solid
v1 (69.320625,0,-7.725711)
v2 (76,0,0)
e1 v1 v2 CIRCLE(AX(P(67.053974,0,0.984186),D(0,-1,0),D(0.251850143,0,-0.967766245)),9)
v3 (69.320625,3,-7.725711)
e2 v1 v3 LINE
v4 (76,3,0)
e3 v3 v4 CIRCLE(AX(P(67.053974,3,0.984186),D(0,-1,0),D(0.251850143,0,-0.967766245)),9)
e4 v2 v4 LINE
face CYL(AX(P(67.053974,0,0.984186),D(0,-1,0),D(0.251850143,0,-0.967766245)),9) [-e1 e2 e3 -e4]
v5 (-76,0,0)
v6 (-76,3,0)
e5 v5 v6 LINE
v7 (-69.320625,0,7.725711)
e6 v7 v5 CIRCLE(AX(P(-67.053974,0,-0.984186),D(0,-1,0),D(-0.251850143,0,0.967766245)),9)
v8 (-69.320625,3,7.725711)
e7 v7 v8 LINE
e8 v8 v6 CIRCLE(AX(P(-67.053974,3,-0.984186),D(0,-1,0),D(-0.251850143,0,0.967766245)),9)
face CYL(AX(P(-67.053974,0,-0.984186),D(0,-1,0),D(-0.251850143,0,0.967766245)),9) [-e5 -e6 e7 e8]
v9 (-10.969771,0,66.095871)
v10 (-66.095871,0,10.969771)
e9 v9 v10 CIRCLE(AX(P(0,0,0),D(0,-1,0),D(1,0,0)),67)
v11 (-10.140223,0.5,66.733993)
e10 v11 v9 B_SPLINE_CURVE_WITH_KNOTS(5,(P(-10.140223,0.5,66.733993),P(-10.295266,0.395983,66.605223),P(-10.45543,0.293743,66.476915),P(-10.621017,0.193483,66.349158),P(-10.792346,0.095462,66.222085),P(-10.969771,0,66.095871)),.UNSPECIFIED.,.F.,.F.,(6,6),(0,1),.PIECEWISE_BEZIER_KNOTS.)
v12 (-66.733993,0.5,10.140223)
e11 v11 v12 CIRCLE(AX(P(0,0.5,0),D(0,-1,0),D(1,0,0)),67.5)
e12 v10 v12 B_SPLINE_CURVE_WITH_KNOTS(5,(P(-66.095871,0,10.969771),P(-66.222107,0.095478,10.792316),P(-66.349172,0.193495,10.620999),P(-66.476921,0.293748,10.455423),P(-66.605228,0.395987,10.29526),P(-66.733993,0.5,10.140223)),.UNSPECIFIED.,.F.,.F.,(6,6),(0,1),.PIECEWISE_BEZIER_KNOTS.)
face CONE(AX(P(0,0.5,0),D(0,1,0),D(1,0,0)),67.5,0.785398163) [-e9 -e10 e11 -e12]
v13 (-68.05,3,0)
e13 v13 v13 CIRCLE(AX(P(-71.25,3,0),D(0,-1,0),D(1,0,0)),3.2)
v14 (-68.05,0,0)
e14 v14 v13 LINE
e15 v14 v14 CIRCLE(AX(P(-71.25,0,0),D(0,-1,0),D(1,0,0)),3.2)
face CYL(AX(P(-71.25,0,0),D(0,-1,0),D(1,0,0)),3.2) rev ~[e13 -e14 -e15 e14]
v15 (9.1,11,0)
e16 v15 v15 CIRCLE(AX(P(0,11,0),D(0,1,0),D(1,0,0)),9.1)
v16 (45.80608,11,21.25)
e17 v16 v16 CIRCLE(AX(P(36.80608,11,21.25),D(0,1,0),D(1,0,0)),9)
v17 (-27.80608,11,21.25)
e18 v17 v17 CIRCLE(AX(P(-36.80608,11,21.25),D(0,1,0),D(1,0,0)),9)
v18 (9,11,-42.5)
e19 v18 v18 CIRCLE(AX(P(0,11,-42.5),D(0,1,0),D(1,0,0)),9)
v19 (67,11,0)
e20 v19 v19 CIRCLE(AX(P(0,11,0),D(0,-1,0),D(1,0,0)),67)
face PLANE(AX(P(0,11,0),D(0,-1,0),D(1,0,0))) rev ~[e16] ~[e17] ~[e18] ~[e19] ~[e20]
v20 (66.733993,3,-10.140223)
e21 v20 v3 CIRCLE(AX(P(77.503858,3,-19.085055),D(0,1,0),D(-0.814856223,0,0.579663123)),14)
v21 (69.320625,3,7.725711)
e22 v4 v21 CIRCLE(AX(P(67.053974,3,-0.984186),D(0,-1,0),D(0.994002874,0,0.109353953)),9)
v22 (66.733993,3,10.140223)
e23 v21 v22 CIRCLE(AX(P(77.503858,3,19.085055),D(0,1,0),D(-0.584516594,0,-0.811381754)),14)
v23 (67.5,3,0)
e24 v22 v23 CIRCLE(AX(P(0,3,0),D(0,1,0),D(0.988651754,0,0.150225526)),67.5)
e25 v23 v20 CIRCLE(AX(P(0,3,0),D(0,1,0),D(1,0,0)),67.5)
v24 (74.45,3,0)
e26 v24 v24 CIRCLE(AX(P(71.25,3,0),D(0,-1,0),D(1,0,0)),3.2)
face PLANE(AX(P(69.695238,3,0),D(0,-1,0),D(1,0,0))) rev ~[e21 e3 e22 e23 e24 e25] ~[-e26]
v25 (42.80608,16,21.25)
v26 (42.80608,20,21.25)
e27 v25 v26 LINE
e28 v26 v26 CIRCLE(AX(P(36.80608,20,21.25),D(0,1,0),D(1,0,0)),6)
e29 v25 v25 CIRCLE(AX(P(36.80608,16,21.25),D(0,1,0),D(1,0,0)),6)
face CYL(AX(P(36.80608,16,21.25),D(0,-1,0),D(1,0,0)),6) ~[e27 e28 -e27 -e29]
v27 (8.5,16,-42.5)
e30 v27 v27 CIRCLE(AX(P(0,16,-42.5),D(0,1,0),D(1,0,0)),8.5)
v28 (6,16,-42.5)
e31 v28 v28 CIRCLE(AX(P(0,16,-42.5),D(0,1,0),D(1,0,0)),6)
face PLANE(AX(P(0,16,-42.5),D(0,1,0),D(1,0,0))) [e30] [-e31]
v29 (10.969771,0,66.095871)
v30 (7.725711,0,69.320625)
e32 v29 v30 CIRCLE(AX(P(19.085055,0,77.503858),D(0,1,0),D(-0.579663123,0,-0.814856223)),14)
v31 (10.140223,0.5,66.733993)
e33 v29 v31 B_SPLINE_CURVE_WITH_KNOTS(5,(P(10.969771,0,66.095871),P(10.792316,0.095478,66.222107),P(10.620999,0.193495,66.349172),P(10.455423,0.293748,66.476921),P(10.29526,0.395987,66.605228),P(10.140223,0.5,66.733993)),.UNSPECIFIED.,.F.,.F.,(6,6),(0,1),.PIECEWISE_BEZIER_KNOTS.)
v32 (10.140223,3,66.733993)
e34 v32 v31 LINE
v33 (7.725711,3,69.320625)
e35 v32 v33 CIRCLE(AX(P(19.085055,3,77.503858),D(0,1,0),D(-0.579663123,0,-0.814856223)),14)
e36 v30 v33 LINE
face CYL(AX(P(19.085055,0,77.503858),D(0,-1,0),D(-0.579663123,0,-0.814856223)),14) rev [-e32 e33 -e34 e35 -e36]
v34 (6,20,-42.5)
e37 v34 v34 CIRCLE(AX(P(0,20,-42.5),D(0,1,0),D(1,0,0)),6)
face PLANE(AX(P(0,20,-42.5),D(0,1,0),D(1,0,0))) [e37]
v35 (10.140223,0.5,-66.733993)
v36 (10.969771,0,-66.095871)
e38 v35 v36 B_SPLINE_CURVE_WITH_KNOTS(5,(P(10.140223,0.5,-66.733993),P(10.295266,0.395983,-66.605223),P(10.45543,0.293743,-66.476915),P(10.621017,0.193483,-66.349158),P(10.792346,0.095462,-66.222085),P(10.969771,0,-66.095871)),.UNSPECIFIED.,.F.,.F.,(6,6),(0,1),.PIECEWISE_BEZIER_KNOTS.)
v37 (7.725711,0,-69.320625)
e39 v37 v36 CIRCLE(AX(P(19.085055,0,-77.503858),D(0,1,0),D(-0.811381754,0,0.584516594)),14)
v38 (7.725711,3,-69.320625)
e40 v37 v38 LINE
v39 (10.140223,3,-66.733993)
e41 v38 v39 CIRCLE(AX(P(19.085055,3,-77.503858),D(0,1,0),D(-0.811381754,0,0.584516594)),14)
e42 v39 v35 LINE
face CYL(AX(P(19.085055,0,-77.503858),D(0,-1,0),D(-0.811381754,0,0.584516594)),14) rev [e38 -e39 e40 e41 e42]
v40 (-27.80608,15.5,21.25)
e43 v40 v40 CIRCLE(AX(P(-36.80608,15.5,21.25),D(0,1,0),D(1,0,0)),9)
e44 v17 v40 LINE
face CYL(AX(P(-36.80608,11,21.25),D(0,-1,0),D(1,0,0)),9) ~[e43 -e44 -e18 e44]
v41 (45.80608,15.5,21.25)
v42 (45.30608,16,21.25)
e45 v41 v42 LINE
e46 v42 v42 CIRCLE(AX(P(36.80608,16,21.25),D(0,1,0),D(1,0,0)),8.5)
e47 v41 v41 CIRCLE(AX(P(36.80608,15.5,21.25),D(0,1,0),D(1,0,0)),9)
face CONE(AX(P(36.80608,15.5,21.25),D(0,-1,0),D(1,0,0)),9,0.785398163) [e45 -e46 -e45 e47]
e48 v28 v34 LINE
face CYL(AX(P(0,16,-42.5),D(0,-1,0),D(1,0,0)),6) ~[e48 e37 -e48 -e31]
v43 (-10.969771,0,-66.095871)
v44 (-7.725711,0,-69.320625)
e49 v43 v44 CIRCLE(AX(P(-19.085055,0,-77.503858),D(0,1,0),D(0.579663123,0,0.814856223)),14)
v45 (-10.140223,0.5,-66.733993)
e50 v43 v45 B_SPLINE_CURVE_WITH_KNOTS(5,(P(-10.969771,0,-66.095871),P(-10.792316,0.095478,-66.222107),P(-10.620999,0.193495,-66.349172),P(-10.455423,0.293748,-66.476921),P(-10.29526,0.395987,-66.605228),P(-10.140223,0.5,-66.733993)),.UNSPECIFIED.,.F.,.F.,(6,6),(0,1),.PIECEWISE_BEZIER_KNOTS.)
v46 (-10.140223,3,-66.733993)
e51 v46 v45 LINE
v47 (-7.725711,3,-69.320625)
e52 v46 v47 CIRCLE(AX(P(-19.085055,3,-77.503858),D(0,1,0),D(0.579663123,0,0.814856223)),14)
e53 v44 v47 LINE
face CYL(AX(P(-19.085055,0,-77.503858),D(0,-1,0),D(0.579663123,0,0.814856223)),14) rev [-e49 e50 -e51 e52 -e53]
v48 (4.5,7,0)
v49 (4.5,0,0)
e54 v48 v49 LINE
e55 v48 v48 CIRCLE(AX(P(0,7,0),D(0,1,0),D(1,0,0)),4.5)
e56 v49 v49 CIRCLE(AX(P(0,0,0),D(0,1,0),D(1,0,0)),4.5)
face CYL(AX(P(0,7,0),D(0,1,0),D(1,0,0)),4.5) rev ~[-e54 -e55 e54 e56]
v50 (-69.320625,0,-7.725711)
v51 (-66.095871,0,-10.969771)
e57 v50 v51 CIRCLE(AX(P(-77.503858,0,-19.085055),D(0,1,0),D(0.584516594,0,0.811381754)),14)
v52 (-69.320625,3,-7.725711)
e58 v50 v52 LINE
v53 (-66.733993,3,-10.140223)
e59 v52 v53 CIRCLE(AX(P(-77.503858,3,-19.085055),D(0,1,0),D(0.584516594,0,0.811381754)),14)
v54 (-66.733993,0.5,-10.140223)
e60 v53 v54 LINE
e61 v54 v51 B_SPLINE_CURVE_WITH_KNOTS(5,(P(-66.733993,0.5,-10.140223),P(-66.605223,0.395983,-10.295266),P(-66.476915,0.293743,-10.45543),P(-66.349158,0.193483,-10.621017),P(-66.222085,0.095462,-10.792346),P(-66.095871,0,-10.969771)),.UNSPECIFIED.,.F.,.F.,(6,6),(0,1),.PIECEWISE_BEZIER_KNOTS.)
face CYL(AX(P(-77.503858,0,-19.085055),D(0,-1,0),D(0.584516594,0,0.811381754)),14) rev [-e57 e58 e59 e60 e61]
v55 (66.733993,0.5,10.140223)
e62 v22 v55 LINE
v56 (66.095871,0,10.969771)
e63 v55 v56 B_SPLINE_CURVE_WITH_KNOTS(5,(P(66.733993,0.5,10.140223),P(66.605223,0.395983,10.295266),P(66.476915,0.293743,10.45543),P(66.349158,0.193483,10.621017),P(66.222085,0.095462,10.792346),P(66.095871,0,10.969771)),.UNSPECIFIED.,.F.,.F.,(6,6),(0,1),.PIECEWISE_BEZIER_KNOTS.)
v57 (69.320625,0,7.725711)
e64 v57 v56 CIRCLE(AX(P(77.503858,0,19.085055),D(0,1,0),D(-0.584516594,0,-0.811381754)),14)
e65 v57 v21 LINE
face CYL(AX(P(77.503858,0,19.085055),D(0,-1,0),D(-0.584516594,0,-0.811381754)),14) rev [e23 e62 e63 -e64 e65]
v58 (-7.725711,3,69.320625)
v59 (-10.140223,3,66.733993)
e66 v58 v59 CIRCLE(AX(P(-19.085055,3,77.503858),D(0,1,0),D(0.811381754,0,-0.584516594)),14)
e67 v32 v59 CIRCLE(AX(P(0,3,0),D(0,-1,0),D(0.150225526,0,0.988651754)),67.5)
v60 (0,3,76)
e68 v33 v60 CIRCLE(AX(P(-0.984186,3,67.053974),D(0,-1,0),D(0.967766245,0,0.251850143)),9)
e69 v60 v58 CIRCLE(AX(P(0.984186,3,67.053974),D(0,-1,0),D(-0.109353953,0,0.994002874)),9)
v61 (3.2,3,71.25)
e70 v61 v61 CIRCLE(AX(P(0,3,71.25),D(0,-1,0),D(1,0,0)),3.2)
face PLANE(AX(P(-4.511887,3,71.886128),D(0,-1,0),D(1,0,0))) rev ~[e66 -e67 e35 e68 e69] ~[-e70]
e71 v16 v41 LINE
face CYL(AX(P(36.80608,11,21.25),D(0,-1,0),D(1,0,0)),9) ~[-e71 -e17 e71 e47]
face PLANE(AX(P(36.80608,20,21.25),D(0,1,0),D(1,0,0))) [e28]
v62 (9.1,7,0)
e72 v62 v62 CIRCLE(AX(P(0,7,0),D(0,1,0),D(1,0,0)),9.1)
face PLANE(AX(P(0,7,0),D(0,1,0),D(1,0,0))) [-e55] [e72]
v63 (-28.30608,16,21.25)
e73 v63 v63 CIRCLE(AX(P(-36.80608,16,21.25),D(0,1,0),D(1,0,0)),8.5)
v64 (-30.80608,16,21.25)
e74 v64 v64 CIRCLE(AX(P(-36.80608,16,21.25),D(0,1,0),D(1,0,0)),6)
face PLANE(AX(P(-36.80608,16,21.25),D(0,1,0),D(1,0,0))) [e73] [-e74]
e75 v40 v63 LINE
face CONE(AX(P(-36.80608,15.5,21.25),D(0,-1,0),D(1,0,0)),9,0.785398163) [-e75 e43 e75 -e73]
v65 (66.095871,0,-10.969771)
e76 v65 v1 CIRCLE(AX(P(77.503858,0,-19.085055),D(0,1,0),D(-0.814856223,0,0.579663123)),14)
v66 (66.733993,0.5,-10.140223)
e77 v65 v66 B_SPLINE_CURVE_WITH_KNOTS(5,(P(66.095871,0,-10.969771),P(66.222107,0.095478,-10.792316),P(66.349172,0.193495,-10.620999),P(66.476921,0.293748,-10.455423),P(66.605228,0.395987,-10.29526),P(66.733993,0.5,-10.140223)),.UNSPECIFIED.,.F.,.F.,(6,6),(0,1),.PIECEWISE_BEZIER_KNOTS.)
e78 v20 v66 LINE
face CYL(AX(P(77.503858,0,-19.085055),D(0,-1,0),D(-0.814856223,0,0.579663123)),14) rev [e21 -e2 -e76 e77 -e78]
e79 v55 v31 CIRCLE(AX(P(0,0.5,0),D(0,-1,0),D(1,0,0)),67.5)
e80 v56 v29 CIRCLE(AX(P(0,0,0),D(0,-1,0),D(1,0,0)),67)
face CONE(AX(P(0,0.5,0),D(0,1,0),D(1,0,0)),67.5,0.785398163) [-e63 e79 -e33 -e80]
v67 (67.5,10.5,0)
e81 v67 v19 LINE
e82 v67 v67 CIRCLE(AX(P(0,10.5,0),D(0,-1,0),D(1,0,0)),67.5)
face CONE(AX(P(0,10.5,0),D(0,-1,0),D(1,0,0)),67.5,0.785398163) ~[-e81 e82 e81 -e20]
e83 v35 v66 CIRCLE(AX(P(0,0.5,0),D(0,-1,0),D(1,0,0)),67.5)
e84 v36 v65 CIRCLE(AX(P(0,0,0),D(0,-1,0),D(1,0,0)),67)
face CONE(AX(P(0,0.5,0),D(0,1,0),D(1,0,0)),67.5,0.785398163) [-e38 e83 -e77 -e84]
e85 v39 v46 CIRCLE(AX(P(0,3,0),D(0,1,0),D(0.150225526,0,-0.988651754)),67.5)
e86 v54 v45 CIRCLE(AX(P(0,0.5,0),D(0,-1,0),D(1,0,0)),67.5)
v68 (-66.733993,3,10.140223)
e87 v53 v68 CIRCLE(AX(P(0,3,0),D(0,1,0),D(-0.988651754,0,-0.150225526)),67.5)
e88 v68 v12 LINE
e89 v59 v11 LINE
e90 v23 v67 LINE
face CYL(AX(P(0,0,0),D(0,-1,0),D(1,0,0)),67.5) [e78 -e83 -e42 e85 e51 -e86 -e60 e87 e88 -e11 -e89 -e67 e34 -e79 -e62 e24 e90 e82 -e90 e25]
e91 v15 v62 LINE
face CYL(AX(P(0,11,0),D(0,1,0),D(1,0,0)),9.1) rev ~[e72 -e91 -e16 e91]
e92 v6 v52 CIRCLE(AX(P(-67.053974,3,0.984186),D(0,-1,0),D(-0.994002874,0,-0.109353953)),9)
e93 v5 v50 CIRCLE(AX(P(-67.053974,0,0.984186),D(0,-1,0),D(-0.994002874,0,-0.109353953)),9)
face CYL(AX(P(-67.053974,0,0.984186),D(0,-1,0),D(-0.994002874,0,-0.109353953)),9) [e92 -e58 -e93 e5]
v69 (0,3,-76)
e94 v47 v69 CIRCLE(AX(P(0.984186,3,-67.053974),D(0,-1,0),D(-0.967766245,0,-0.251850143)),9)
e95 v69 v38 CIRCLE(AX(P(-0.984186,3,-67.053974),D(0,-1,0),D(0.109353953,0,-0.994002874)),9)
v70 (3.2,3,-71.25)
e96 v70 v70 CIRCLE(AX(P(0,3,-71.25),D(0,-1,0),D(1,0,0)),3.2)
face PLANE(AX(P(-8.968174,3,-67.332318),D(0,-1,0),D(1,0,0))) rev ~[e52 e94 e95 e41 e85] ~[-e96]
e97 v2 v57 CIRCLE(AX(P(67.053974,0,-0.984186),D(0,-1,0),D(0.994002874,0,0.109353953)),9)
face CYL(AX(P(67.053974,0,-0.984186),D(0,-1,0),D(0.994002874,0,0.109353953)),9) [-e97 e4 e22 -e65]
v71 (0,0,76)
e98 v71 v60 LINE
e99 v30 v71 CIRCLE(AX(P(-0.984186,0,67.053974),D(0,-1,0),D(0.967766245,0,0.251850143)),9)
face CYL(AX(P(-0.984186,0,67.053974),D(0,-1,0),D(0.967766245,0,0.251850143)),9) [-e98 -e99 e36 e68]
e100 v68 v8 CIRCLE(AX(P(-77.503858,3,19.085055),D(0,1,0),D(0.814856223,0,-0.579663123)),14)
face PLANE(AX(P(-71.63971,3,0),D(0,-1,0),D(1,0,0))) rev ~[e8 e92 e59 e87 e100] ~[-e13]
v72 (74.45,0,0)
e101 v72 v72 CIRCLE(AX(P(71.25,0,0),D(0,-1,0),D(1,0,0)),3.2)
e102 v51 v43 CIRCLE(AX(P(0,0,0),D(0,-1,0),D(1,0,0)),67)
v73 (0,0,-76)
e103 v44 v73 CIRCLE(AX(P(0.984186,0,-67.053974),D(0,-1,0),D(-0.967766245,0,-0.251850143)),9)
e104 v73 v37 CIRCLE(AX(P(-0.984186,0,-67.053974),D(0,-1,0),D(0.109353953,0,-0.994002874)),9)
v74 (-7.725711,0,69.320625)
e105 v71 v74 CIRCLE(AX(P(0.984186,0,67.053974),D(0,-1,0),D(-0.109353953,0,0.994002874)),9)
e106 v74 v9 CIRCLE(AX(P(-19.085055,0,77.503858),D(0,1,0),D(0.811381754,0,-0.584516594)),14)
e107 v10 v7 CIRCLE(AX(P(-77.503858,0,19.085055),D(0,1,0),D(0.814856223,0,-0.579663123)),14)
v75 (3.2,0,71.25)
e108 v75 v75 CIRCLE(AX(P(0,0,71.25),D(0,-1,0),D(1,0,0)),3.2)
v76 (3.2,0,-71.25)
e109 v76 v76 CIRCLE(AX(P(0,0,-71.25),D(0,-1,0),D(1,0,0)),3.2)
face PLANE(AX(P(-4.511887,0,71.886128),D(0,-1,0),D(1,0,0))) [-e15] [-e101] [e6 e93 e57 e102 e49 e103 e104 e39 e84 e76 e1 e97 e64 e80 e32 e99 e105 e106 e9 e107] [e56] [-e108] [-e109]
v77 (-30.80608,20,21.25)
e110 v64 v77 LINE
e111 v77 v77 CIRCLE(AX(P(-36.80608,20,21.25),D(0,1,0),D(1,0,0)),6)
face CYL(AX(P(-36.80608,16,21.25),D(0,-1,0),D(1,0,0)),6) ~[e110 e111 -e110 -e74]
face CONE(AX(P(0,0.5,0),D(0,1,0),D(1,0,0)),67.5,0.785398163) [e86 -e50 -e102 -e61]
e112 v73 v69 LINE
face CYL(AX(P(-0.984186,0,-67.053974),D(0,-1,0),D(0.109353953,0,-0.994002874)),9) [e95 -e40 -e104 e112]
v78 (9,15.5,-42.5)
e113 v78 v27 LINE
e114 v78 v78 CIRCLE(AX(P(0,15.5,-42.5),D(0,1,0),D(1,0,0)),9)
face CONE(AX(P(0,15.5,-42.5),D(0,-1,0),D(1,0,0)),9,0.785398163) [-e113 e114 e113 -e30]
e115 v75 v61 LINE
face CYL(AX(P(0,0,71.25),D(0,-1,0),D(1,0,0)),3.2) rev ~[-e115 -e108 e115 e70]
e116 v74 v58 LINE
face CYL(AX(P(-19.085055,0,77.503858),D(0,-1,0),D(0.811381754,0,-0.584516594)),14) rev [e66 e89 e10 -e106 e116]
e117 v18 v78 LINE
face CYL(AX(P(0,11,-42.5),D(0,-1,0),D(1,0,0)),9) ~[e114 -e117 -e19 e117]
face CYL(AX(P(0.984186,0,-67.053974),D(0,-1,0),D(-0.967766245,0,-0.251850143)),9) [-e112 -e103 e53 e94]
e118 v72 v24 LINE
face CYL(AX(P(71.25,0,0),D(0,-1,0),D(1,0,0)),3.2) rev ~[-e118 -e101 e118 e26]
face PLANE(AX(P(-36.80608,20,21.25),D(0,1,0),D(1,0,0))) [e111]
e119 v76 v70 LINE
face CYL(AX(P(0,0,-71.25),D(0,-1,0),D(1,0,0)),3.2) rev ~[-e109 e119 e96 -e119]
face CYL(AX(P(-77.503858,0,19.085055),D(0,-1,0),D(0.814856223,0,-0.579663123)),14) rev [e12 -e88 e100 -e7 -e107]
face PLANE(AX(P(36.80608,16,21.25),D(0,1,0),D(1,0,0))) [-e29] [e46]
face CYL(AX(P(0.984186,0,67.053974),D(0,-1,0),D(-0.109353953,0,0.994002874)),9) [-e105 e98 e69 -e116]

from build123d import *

# Parameters (mm, degrees)
SKETCH2_R            = 65
BOSS_EXTRUDE1_DEPTH  = 11
SKETCH3_R            = 9.1
CUT_EXTRUDE2_DEPTH   = 4
SKETCH4_R            = 4.5
CUT_EXTRUDE4_DEPTH   = 20
SKETCH5_R            = 67.5
SKETCH5_R_2          = 65
BOSS_EXTRUDE3_DEPTH  = 11
CHAMFER1_SIZE        = 0.5
CHAMFER2_SIZE        = 0.5
BOSS_EXTRUDE8_DEPTH  = 3
BOSS_EXTRUDE9_DEPTH  = 3
SKETCH8_R            = 3.2
CUT_EXTRUDE5_DEPTH   = 4
SKETCH9_R            = 9
BOSS_EXTRUDE10_DEPTH = 5
SKETCH10_R           = 6
BOSS_EXTRUDE11_DEPTH = 4
CHAMFER4_SIZE        = 0.5


with BuildPart() as part:
    # Sketch2 → Boss-Extrude1 (new body)
    with BuildSketch(Plane(origin=(0, 0, 0), x_dir=(1, 0, 0), z_dir=(0, 1, 0))):
        Circle(SKETCH2_R)
    extrude(amount=BOSS_EXTRUDE1_DEPTH)

    # Sketch3 → Cut-Extrude2 (cut)
    with BuildSketch(Plane(origin=(0, 11, 0), x_dir=(1, 0, 0), z_dir=(0, 1, 0))):
        Circle(SKETCH3_R)
    extrude(amount=-CUT_EXTRUDE2_DEPTH, mode=Mode.SUBTRACT)

    # Sketch4 → Cut-Extrude4 (cut)
    with BuildSketch(Plane(origin=(0, 7, 0), x_dir=(1, 0, 0), z_dir=(0, 1, 0))):
        Circle(SKETCH4_R)
    extrude(amount=-CUT_EXTRUDE4_DEPTH, mode=Mode.SUBTRACT)

    # Sketch5 → Boss-Extrude3 (add)
    with BuildSketch(Plane.XZ):
        Circle(SKETCH5_R)
        Circle(SKETCH5_R_2, mode=Mode.SUBTRACT)
    extrude(amount=-BOSS_EXTRUDE3_DEPTH)

    # Chamfer1
    chamfer1_edges = [part.edges().sort_by_distance(p)[0] for p in [
        (-67.5, 11, 0),
    ]]
    chamfer(chamfer1_edges, length=CHAMFER1_SIZE)

    # Chamfer2
    chamfer2_edges = [part.edges().sort_by_distance(p)[0] for p in [
        (-67.5, 0, 0),
    ]]
    chamfer(chamfer2_edges, length=CHAMFER2_SIZE)

    # Sketch6 → Boss-Extrude8 (add)
    with BuildSketch(Plane.XZ):
        with BuildLine():
            ThreePointArc((-5.99398228, 66.731343284), (-3, 66.932802123), (0, 67))
            Line((0, 67), (0, 74))
            ThreePointArc((0, 74), (-3.933906239, 72.64143706), (-6.037545702, 69.050335199))
            ThreePointArc((-6.037545702, 69.050335199), (-6.128886239, 67.888714183), (-5.99398228, 66.731343284))
        make_face()
        with BuildLine():
            Line((0, 74), (0, 67))
            ThreePointArc((0, 67), (3, 66.932802123), (5.99398228, 66.731343284))
            ThreePointArc((5.99398228, 66.731343284), (6.128886239, 67.888714183), (6.037545702, 69.050335199))
            ThreePointArc((6.037545702, 69.050335199), (3.933906239, 72.64143706), (0, 74))
        make_face()
        with BuildLine():
            ThreePointArc((6.037545702, 69.050335199), (6.128886239, 67.888714183), (5.99398228, 66.731343284))
            ThreePointArc((5.99398228, 66.731343284), (6.989304811, 66.634447685), (7.98307027, 66.522707319))
            ThreePointArc((7.98307027, 66.522707319), (6.839267191, 67.654870524), (6.037545702, 69.050335199))
        make_face()
        with BuildLine():
            ThreePointArc((-7.98307027, 66.522707319), (-6.989304811, 66.634447685), (-5.99398228, 66.731343284))
            ThreePointArc((-5.99398228, 66.731343284), (-6.128886239, 67.888714183), (-6.037545702, 69.050335199))
            ThreePointArc((-6.037545702, 69.050335199), (-6.839267191, 67.654870524), (-7.98307027, 66.522707319))
        make_face()
        with BuildLine():
            ThreePointArc((69.050335199, 6.037545702), (67.888714183, 6.128886239), (66.731343284, 5.99398228))
            ThreePointArc((66.731343284, 5.99398228), (66.932802123, 3), (67, 0))
            ThreePointArc((67, 0), (66.932802123, -3), (66.731343284, -5.99398228))
            ThreePointArc((66.731343284, -5.99398228), (67.888714183, -6.128886239), (69.050335199, -6.037545702))
            ThreePointArc((69.050335199, -6.037545702), (72.64143706, -3.933906239), (74, 0))
            ThreePointArc((74, 0), (72.64143706, 3.933906239), (69.050335199, 6.037545702))
        make_face()
        with BuildLine():
            ThreePointArc((69.050335199, 6.037545702), (67.654870524, 6.839267191), (66.522707319, 7.98307027))
            ThreePointArc((66.522707319, 7.98307027), (66.634447685, 6.989304811), (66.731343284, 5.99398228))
            ThreePointArc((66.731343284, 5.99398228), (67.888714183, 6.128886239), (69.050335199, 6.037545702))
        make_face()
        with BuildLine():
            ThreePointArc((69.050335199, -6.037545702), (67.888714183, -6.128886239), (66.731343284, -5.99398228))
            ThreePointArc((66.731343284, -5.99398228), (66.634447685, -6.989304811), (66.522707319, -7.98307027))
            ThreePointArc((66.522707319, -7.98307027), (67.654870524, -6.839267191), (69.050335199, -6.037545702))
        make_face()
        with BuildLine():
            ThreePointArc((5.99398228, -66.731343284), (0, -67), (-5.99398228, -66.731343284))
            ThreePointArc((-5.99398228, -66.731343284), (-6.128886239, -67.888714183), (-6.037545702, -69.050335199))
            ThreePointArc((-6.037545702, -69.050335199), (-3.933906239, -72.64143706), (0, -74))
            ThreePointArc((0, -74), (3.933906239, -72.64143706), (6.037545702, -69.050335199))
            ThreePointArc((6.037545702, -69.050335199), (6.128886239, -67.888714183), (5.99398228, -66.731343284))
        make_face()
        with BuildLine():
            ThreePointArc((-5.99398228, -66.731343284), (-6.989304811, -66.634447685), (-7.98307027, -66.522707319))
            ThreePointArc((-7.98307027, -66.522707319), (-6.839267191, -67.654870524), (-6.037545702, -69.050335199))
            ThreePointArc((-6.037545702, -69.050335199), (-6.128886239, -67.888714183), (-5.99398228, -66.731343284))
        make_face()
        with BuildLine():
            ThreePointArc((6.037545702, -69.050335199), (6.839267191, -67.654870524), (7.98307027, -66.522707319))
            ThreePointArc((7.98307027, -66.522707319), (6.989304811, -66.634447685), (5.99398228, -66.731343284))
            ThreePointArc((5.99398228, -66.731343284), (6.128886239, -67.888714183), (6.037545702, -69.050335199))
        make_face()
        with BuildLine():
            ThreePointArc((-66.731343284, -5.99398228), (-67, 0), (-66.731343284, 5.99398228))
            ThreePointArc((-66.731343284, 5.99398228), (-67.888714183, 6.128886239), (-69.050335199, 6.037545702))
            ThreePointArc((-69.050335199, 6.037545702), (-72.64143706, 3.933906239), (-74, 0))
            ThreePointArc((-74, 0), (-72.64143706, -3.933906239), (-69.050335199, -6.037545702))
            ThreePointArc((-69.050335199, -6.037545702), (-67.888714183, -6.128886239), (-66.731343284, -5.99398228))
        make_face()
        with BuildLine():
            ThreePointArc((-66.731343284, 5.99398228), (-66.634447685, 6.989304811), (-66.522707319, 7.98307027))
            ThreePointArc((-66.522707319, 7.98307027), (-67.654870524, 6.839267191), (-69.050335199, 6.037545702))
            ThreePointArc((-69.050335199, 6.037545702), (-67.888714183, 6.128886239), (-66.731343284, 5.99398228))
        make_face()
        with BuildLine():
            ThreePointArc((-66.522707319, -7.98307027), (-66.634447685, -6.989304811), (-66.731343284, -5.99398228))
            ThreePointArc((-66.731343284, -5.99398228), (-67.888714183, -6.128886239), (-69.050335199, -6.037545702))
            ThreePointArc((-69.050335199, -6.037545702), (-67.654870524, -6.839267191), (-66.522707319, -7.98307027))
        make_face()
    extrude(amount=-BOSS_EXTRUDE8_DEPTH)

    # Sketch7 → Boss-Extrude9 (add)
    with BuildSketch(Plane.XZ):
        with BuildLine():
            ThreePointArc((-6.037545702, 69.050335199), (-3.933906239, 72.64143706), (0, 74))
            Line((0, 74), (0, 76))
            ThreePointArc((0, 76), (-4.902011553, 73.862254638), (-7.725710636, 69.320625418))
            ThreePointArc((-7.725710636, 69.320625418), (-7.972938142, 67.9314334), (-8, 66.520673478))
            ThreePointArc((-8, 66.520673478), (-7.9915352, 66.521690937), (-7.98307027, 66.522707319))
            ThreePointArc((-7.98307027, 66.522707319), (-6.839267191, 67.654870524), (-6.037545702, 69.050335199))
        make_face()
        with BuildLine():
            Line((0, 76), (0, 74))
            ThreePointArc((0, 74), (3.933906239, 72.64143706), (6.037545702, 69.050335199))
            ThreePointArc((6.037545702, 69.050335199), (6.839267191, 67.654870524), (7.98307027, 66.522707319))
            ThreePointArc((7.98307027, 66.522707319), (7.9915352, 66.521690937), (8, 66.520673478))
            ThreePointArc((8, 66.520673478), (7.972938142, 67.9314334), (7.725710636, 69.320625418))
            ThreePointArc((7.725710636, 69.320625418), (4.902011553, 73.862254638), (0, 76))
        make_face()
        with BuildLine():
            ThreePointArc((7.725710636, 69.320625418), (7.972938142, 67.9314334), (8, 66.520673478))
            ThreePointArc((8, 66.520673478), (9.487263657, 66.324895992), (10.969771462, 66.095870628))
            ThreePointArc((10.969771462, 66.095870628), (9.215149033, 67.574862202), (7.725710636, 69.320625418))
        make_face()
        with BuildLine():
            ThreePointArc((-10.969771462, 66.095870628), (-9.487263657, 66.324895992), (-8, 66.520673478))
            ThreePointArc((-8, 66.520673478), (-7.972938142, 67.9314334), (-7.725710636, 69.320625418))
            ThreePointArc((-7.725710636, 69.320625418), (-9.215149033, 67.574862202), (-10.969771462, 66.095870628))
        make_face()
        with BuildLine():
            ThreePointArc((-66.522707319, 7.98307027), (-66.521690937, 7.9915352), (-66.520673478, 8))
            ThreePointArc((-66.520673478, 8), (-67.9314334, 7.972938142), (-69.320625418, 7.725710636))
            ThreePointArc((-69.320625418, 7.725710636), (-73.862254638, 4.902011553), (-76, 0))
            ThreePointArc((-76, 0), (-73.862254638, -4.902011553), (-69.320625418, -7.725710636))
            ThreePointArc((-69.320625418, -7.725710636), (-67.9314334, -7.972938142), (-66.520673478, -8))
            ThreePointArc((-66.520673478, -8), (-66.521690937, -7.9915352), (-66.522707319, -7.98307027))
            ThreePointArc((-66.522707319, -7.98307027), (-67.654870524, -6.839267191), (-69.050335199, -6.037545702))
            ThreePointArc((-69.050335199, -6.037545702), (-72.64143706, -3.933906239), (-74, 0))
            ThreePointArc((-74, 0), (-72.64143706, 3.933906239), (-69.050335199, 6.037545702))
            ThreePointArc((-69.050335199, 6.037545702), (-67.654870524, 6.839267191), (-66.522707319, 7.98307027))
        make_face()
        with BuildLine():
            ThreePointArc((-66.520673478, 8), (-66.324895992, 9.487263657), (-66.095870628, 10.969771462))
            ThreePointArc((-66.095870628, 10.969771462), (-67.574862202, 9.215149033), (-69.320625418, 7.725710636))
            ThreePointArc((-69.320625418, 7.725710636), (-67.9314334, 7.972938142), (-66.520673478, 8))
        make_face()
        with BuildLine():
            ThreePointArc((-66.520673478, -8), (-67.9314334, -7.972938142), (-69.320625418, -7.725710636))
            ThreePointArc((-69.320625418, -7.725710636), (-67.574862202, -9.215149033), (-66.095870628, -10.969771462))
            ThreePointArc((-66.095870628, -10.969771462), (-66.324895992, -9.487263657), (-66.520673478, -8))
        make_face()
        with BuildLine():
            ThreePointArc((-8, -66.520673478), (-9.487263657, -66.324895992), (-10.969771462, -66.095870628))
            ThreePointArc((-10.969771462, -66.095870628), (-9.215149033, -67.574862202), (-7.725710636, -69.320625418))
            ThreePointArc((-7.725710636, -69.320625418), (-7.972938142, -67.9314334), (-8, -66.520673478))
        make_face()
        with BuildLine():
            ThreePointArc((7.725710636, -69.320625418), (7.972938142, -67.9314334), (8, -66.520673478))
            ThreePointArc((8, -66.520673478), (7.9915352, -66.521690937), (7.98307027, -66.522707319))
            ThreePointArc((7.98307027, -66.522707319), (6.839267191, -67.654870524), (6.037545702, -69.050335199))
            ThreePointArc((6.037545702, -69.050335199), (3.933906239, -72.64143706), (0, -74))
            ThreePointArc((0, -74), (-3.933906239, -72.64143706), (-6.037545702, -69.050335199))
            ThreePointArc((-6.037545702, -69.050335199), (-6.839267191, -67.654870524), (-7.98307027, -66.522707319))
            ThreePointArc((-7.98307027, -66.522707319), (-7.9915352, -66.521690937), (-8, -66.520673478))
            ThreePointArc((-8, -66.520673478), (-7.972938142, -67.9314334), (-7.725710636, -69.320625418))
            ThreePointArc((-7.725710636, -69.320625418), (-4.902011553, -73.862254638), (0, -76))
            ThreePointArc((0, -76), (4.902011553, -73.862254638), (7.725710636, -69.320625418))
        make_face()
        with BuildLine():
            ThreePointArc((7.725710636, -69.320625418), (9.215149033, -67.574862202), (10.969771462, -66.095870628))
            ThreePointArc((10.969771462, -66.095870628), (9.487263657, -66.324895992), (8, -66.520673478))
            ThreePointArc((8, -66.520673478), (7.972938142, -67.9314334), (7.725710636, -69.320625418))
        make_face()
        with BuildLine():
            ThreePointArc((66.095870628, -10.969771462), (67.574862202, -9.215149033), (69.320625418, -7.725710636))
            ThreePointArc((69.320625418, -7.725710636), (67.9314334, -7.972938142), (66.520673478, -8))
            ThreePointArc((66.520673478, -8), (66.324895992, -9.487263657), (66.095870628, -10.969771462))
        make_face()
        with BuildLine():
            ThreePointArc((69.320625418, 7.725710636), (67.9314334, 7.972938142), (66.520673478, 8))
            ThreePointArc((66.520673478, 8), (66.521690937, 7.9915352), (66.522707319, 7.98307027))
            ThreePointArc((66.522707319, 7.98307027), (67.654870524, 6.839267191), (69.050335199, 6.037545702))
            ThreePointArc((69.050335199, 6.037545702), (72.64143706, 3.933906239), (74, 0))
            ThreePointArc((74, 0), (72.64143706, -3.933906239), (69.050335199, -6.037545702))
            ThreePointArc((69.050335199, -6.037545702), (67.654870524, -6.839267191), (66.522707319, -7.98307027))
            ThreePointArc((66.522707319, -7.98307027), (66.521690937, -7.9915352), (66.520673478, -8))
            ThreePointArc((66.520673478, -8), (67.9314334, -7.972938142), (69.320625418, -7.725710636))
            ThreePointArc((69.320625418, -7.725710636), (73.862254638, -4.902011553), (76, 0))
            ThreePointArc((76, 0), (73.862254638, 4.902011553), (69.320625418, 7.725710636))
        make_face()
        with BuildLine():
            ThreePointArc((69.320625418, 7.725710636), (67.574862202, 9.215149033), (66.095870628, 10.969771462))
            ThreePointArc((66.095870628, 10.969771462), (66.324895992, 9.487263657), (66.520673478, 8))
            ThreePointArc((66.520673478, 8), (67.9314334, 7.972938142), (69.320625418, 7.725710636))
        make_face()
    extrude(amount=-BOSS_EXTRUDE9_DEPTH)

    # Sketch8 → Cut-Extrude5 (cut)
    with BuildSketch(Plane.XZ):
        with Locations((0, 71.25)):
            Circle(SKETCH8_R)
        with Locations((71.25, 0)):
            Circle(SKETCH8_R)
        with Locations((0, -71.25)):
            Circle(SKETCH8_R)
        with Locations((-71.25, 0)):
            Circle(SKETCH8_R)
    extrude(amount=-CUT_EXTRUDE5_DEPTH, mode=Mode.SUBTRACT)

    # Sketch9 → Boss-Extrude10 (add)
    with BuildSketch(Plane(origin=(0, 11, 0), x_dir=(1, 0, 0), z_dir=(0, 1, 0))):
        with Locations((0, 42.5)):
            Circle(SKETCH9_R)
        with Locations((36.806079661, -21.25)):
            Circle(SKETCH9_R)
        with Locations((-36.806079661, -21.25)):
            Circle(SKETCH9_R)
    extrude(amount=BOSS_EXTRUDE10_DEPTH)

    # Sketch10 → Boss-Extrude11 (add)
    with BuildSketch(Plane(origin=(0, 16, 0), x_dir=(1, 0, 0), z_dir=(0, 1, 0))):
        with Locations((0, 42.5)):
            Circle(SKETCH10_R)
        with Locations((36.806079661, -21.25)):
            Circle(SKETCH10_R)
        with Locations((-36.806079661, -21.25)):
            Circle(SKETCH10_R)
    extrude(amount=BOSS_EXTRUDE11_DEPTH)

    # Chamfer4
    chamfer4_edges = [part.edges().sort_by_distance(p)[0] for p in [
        (-9, 16, -42.5),
        (-45.806079661, 16, 21.25),
        (27.806079661, 16, 21.25),
    ]]
    chamfer(chamfer4_edges, length=CHAMFER4_SIZE)


solid = part.part
